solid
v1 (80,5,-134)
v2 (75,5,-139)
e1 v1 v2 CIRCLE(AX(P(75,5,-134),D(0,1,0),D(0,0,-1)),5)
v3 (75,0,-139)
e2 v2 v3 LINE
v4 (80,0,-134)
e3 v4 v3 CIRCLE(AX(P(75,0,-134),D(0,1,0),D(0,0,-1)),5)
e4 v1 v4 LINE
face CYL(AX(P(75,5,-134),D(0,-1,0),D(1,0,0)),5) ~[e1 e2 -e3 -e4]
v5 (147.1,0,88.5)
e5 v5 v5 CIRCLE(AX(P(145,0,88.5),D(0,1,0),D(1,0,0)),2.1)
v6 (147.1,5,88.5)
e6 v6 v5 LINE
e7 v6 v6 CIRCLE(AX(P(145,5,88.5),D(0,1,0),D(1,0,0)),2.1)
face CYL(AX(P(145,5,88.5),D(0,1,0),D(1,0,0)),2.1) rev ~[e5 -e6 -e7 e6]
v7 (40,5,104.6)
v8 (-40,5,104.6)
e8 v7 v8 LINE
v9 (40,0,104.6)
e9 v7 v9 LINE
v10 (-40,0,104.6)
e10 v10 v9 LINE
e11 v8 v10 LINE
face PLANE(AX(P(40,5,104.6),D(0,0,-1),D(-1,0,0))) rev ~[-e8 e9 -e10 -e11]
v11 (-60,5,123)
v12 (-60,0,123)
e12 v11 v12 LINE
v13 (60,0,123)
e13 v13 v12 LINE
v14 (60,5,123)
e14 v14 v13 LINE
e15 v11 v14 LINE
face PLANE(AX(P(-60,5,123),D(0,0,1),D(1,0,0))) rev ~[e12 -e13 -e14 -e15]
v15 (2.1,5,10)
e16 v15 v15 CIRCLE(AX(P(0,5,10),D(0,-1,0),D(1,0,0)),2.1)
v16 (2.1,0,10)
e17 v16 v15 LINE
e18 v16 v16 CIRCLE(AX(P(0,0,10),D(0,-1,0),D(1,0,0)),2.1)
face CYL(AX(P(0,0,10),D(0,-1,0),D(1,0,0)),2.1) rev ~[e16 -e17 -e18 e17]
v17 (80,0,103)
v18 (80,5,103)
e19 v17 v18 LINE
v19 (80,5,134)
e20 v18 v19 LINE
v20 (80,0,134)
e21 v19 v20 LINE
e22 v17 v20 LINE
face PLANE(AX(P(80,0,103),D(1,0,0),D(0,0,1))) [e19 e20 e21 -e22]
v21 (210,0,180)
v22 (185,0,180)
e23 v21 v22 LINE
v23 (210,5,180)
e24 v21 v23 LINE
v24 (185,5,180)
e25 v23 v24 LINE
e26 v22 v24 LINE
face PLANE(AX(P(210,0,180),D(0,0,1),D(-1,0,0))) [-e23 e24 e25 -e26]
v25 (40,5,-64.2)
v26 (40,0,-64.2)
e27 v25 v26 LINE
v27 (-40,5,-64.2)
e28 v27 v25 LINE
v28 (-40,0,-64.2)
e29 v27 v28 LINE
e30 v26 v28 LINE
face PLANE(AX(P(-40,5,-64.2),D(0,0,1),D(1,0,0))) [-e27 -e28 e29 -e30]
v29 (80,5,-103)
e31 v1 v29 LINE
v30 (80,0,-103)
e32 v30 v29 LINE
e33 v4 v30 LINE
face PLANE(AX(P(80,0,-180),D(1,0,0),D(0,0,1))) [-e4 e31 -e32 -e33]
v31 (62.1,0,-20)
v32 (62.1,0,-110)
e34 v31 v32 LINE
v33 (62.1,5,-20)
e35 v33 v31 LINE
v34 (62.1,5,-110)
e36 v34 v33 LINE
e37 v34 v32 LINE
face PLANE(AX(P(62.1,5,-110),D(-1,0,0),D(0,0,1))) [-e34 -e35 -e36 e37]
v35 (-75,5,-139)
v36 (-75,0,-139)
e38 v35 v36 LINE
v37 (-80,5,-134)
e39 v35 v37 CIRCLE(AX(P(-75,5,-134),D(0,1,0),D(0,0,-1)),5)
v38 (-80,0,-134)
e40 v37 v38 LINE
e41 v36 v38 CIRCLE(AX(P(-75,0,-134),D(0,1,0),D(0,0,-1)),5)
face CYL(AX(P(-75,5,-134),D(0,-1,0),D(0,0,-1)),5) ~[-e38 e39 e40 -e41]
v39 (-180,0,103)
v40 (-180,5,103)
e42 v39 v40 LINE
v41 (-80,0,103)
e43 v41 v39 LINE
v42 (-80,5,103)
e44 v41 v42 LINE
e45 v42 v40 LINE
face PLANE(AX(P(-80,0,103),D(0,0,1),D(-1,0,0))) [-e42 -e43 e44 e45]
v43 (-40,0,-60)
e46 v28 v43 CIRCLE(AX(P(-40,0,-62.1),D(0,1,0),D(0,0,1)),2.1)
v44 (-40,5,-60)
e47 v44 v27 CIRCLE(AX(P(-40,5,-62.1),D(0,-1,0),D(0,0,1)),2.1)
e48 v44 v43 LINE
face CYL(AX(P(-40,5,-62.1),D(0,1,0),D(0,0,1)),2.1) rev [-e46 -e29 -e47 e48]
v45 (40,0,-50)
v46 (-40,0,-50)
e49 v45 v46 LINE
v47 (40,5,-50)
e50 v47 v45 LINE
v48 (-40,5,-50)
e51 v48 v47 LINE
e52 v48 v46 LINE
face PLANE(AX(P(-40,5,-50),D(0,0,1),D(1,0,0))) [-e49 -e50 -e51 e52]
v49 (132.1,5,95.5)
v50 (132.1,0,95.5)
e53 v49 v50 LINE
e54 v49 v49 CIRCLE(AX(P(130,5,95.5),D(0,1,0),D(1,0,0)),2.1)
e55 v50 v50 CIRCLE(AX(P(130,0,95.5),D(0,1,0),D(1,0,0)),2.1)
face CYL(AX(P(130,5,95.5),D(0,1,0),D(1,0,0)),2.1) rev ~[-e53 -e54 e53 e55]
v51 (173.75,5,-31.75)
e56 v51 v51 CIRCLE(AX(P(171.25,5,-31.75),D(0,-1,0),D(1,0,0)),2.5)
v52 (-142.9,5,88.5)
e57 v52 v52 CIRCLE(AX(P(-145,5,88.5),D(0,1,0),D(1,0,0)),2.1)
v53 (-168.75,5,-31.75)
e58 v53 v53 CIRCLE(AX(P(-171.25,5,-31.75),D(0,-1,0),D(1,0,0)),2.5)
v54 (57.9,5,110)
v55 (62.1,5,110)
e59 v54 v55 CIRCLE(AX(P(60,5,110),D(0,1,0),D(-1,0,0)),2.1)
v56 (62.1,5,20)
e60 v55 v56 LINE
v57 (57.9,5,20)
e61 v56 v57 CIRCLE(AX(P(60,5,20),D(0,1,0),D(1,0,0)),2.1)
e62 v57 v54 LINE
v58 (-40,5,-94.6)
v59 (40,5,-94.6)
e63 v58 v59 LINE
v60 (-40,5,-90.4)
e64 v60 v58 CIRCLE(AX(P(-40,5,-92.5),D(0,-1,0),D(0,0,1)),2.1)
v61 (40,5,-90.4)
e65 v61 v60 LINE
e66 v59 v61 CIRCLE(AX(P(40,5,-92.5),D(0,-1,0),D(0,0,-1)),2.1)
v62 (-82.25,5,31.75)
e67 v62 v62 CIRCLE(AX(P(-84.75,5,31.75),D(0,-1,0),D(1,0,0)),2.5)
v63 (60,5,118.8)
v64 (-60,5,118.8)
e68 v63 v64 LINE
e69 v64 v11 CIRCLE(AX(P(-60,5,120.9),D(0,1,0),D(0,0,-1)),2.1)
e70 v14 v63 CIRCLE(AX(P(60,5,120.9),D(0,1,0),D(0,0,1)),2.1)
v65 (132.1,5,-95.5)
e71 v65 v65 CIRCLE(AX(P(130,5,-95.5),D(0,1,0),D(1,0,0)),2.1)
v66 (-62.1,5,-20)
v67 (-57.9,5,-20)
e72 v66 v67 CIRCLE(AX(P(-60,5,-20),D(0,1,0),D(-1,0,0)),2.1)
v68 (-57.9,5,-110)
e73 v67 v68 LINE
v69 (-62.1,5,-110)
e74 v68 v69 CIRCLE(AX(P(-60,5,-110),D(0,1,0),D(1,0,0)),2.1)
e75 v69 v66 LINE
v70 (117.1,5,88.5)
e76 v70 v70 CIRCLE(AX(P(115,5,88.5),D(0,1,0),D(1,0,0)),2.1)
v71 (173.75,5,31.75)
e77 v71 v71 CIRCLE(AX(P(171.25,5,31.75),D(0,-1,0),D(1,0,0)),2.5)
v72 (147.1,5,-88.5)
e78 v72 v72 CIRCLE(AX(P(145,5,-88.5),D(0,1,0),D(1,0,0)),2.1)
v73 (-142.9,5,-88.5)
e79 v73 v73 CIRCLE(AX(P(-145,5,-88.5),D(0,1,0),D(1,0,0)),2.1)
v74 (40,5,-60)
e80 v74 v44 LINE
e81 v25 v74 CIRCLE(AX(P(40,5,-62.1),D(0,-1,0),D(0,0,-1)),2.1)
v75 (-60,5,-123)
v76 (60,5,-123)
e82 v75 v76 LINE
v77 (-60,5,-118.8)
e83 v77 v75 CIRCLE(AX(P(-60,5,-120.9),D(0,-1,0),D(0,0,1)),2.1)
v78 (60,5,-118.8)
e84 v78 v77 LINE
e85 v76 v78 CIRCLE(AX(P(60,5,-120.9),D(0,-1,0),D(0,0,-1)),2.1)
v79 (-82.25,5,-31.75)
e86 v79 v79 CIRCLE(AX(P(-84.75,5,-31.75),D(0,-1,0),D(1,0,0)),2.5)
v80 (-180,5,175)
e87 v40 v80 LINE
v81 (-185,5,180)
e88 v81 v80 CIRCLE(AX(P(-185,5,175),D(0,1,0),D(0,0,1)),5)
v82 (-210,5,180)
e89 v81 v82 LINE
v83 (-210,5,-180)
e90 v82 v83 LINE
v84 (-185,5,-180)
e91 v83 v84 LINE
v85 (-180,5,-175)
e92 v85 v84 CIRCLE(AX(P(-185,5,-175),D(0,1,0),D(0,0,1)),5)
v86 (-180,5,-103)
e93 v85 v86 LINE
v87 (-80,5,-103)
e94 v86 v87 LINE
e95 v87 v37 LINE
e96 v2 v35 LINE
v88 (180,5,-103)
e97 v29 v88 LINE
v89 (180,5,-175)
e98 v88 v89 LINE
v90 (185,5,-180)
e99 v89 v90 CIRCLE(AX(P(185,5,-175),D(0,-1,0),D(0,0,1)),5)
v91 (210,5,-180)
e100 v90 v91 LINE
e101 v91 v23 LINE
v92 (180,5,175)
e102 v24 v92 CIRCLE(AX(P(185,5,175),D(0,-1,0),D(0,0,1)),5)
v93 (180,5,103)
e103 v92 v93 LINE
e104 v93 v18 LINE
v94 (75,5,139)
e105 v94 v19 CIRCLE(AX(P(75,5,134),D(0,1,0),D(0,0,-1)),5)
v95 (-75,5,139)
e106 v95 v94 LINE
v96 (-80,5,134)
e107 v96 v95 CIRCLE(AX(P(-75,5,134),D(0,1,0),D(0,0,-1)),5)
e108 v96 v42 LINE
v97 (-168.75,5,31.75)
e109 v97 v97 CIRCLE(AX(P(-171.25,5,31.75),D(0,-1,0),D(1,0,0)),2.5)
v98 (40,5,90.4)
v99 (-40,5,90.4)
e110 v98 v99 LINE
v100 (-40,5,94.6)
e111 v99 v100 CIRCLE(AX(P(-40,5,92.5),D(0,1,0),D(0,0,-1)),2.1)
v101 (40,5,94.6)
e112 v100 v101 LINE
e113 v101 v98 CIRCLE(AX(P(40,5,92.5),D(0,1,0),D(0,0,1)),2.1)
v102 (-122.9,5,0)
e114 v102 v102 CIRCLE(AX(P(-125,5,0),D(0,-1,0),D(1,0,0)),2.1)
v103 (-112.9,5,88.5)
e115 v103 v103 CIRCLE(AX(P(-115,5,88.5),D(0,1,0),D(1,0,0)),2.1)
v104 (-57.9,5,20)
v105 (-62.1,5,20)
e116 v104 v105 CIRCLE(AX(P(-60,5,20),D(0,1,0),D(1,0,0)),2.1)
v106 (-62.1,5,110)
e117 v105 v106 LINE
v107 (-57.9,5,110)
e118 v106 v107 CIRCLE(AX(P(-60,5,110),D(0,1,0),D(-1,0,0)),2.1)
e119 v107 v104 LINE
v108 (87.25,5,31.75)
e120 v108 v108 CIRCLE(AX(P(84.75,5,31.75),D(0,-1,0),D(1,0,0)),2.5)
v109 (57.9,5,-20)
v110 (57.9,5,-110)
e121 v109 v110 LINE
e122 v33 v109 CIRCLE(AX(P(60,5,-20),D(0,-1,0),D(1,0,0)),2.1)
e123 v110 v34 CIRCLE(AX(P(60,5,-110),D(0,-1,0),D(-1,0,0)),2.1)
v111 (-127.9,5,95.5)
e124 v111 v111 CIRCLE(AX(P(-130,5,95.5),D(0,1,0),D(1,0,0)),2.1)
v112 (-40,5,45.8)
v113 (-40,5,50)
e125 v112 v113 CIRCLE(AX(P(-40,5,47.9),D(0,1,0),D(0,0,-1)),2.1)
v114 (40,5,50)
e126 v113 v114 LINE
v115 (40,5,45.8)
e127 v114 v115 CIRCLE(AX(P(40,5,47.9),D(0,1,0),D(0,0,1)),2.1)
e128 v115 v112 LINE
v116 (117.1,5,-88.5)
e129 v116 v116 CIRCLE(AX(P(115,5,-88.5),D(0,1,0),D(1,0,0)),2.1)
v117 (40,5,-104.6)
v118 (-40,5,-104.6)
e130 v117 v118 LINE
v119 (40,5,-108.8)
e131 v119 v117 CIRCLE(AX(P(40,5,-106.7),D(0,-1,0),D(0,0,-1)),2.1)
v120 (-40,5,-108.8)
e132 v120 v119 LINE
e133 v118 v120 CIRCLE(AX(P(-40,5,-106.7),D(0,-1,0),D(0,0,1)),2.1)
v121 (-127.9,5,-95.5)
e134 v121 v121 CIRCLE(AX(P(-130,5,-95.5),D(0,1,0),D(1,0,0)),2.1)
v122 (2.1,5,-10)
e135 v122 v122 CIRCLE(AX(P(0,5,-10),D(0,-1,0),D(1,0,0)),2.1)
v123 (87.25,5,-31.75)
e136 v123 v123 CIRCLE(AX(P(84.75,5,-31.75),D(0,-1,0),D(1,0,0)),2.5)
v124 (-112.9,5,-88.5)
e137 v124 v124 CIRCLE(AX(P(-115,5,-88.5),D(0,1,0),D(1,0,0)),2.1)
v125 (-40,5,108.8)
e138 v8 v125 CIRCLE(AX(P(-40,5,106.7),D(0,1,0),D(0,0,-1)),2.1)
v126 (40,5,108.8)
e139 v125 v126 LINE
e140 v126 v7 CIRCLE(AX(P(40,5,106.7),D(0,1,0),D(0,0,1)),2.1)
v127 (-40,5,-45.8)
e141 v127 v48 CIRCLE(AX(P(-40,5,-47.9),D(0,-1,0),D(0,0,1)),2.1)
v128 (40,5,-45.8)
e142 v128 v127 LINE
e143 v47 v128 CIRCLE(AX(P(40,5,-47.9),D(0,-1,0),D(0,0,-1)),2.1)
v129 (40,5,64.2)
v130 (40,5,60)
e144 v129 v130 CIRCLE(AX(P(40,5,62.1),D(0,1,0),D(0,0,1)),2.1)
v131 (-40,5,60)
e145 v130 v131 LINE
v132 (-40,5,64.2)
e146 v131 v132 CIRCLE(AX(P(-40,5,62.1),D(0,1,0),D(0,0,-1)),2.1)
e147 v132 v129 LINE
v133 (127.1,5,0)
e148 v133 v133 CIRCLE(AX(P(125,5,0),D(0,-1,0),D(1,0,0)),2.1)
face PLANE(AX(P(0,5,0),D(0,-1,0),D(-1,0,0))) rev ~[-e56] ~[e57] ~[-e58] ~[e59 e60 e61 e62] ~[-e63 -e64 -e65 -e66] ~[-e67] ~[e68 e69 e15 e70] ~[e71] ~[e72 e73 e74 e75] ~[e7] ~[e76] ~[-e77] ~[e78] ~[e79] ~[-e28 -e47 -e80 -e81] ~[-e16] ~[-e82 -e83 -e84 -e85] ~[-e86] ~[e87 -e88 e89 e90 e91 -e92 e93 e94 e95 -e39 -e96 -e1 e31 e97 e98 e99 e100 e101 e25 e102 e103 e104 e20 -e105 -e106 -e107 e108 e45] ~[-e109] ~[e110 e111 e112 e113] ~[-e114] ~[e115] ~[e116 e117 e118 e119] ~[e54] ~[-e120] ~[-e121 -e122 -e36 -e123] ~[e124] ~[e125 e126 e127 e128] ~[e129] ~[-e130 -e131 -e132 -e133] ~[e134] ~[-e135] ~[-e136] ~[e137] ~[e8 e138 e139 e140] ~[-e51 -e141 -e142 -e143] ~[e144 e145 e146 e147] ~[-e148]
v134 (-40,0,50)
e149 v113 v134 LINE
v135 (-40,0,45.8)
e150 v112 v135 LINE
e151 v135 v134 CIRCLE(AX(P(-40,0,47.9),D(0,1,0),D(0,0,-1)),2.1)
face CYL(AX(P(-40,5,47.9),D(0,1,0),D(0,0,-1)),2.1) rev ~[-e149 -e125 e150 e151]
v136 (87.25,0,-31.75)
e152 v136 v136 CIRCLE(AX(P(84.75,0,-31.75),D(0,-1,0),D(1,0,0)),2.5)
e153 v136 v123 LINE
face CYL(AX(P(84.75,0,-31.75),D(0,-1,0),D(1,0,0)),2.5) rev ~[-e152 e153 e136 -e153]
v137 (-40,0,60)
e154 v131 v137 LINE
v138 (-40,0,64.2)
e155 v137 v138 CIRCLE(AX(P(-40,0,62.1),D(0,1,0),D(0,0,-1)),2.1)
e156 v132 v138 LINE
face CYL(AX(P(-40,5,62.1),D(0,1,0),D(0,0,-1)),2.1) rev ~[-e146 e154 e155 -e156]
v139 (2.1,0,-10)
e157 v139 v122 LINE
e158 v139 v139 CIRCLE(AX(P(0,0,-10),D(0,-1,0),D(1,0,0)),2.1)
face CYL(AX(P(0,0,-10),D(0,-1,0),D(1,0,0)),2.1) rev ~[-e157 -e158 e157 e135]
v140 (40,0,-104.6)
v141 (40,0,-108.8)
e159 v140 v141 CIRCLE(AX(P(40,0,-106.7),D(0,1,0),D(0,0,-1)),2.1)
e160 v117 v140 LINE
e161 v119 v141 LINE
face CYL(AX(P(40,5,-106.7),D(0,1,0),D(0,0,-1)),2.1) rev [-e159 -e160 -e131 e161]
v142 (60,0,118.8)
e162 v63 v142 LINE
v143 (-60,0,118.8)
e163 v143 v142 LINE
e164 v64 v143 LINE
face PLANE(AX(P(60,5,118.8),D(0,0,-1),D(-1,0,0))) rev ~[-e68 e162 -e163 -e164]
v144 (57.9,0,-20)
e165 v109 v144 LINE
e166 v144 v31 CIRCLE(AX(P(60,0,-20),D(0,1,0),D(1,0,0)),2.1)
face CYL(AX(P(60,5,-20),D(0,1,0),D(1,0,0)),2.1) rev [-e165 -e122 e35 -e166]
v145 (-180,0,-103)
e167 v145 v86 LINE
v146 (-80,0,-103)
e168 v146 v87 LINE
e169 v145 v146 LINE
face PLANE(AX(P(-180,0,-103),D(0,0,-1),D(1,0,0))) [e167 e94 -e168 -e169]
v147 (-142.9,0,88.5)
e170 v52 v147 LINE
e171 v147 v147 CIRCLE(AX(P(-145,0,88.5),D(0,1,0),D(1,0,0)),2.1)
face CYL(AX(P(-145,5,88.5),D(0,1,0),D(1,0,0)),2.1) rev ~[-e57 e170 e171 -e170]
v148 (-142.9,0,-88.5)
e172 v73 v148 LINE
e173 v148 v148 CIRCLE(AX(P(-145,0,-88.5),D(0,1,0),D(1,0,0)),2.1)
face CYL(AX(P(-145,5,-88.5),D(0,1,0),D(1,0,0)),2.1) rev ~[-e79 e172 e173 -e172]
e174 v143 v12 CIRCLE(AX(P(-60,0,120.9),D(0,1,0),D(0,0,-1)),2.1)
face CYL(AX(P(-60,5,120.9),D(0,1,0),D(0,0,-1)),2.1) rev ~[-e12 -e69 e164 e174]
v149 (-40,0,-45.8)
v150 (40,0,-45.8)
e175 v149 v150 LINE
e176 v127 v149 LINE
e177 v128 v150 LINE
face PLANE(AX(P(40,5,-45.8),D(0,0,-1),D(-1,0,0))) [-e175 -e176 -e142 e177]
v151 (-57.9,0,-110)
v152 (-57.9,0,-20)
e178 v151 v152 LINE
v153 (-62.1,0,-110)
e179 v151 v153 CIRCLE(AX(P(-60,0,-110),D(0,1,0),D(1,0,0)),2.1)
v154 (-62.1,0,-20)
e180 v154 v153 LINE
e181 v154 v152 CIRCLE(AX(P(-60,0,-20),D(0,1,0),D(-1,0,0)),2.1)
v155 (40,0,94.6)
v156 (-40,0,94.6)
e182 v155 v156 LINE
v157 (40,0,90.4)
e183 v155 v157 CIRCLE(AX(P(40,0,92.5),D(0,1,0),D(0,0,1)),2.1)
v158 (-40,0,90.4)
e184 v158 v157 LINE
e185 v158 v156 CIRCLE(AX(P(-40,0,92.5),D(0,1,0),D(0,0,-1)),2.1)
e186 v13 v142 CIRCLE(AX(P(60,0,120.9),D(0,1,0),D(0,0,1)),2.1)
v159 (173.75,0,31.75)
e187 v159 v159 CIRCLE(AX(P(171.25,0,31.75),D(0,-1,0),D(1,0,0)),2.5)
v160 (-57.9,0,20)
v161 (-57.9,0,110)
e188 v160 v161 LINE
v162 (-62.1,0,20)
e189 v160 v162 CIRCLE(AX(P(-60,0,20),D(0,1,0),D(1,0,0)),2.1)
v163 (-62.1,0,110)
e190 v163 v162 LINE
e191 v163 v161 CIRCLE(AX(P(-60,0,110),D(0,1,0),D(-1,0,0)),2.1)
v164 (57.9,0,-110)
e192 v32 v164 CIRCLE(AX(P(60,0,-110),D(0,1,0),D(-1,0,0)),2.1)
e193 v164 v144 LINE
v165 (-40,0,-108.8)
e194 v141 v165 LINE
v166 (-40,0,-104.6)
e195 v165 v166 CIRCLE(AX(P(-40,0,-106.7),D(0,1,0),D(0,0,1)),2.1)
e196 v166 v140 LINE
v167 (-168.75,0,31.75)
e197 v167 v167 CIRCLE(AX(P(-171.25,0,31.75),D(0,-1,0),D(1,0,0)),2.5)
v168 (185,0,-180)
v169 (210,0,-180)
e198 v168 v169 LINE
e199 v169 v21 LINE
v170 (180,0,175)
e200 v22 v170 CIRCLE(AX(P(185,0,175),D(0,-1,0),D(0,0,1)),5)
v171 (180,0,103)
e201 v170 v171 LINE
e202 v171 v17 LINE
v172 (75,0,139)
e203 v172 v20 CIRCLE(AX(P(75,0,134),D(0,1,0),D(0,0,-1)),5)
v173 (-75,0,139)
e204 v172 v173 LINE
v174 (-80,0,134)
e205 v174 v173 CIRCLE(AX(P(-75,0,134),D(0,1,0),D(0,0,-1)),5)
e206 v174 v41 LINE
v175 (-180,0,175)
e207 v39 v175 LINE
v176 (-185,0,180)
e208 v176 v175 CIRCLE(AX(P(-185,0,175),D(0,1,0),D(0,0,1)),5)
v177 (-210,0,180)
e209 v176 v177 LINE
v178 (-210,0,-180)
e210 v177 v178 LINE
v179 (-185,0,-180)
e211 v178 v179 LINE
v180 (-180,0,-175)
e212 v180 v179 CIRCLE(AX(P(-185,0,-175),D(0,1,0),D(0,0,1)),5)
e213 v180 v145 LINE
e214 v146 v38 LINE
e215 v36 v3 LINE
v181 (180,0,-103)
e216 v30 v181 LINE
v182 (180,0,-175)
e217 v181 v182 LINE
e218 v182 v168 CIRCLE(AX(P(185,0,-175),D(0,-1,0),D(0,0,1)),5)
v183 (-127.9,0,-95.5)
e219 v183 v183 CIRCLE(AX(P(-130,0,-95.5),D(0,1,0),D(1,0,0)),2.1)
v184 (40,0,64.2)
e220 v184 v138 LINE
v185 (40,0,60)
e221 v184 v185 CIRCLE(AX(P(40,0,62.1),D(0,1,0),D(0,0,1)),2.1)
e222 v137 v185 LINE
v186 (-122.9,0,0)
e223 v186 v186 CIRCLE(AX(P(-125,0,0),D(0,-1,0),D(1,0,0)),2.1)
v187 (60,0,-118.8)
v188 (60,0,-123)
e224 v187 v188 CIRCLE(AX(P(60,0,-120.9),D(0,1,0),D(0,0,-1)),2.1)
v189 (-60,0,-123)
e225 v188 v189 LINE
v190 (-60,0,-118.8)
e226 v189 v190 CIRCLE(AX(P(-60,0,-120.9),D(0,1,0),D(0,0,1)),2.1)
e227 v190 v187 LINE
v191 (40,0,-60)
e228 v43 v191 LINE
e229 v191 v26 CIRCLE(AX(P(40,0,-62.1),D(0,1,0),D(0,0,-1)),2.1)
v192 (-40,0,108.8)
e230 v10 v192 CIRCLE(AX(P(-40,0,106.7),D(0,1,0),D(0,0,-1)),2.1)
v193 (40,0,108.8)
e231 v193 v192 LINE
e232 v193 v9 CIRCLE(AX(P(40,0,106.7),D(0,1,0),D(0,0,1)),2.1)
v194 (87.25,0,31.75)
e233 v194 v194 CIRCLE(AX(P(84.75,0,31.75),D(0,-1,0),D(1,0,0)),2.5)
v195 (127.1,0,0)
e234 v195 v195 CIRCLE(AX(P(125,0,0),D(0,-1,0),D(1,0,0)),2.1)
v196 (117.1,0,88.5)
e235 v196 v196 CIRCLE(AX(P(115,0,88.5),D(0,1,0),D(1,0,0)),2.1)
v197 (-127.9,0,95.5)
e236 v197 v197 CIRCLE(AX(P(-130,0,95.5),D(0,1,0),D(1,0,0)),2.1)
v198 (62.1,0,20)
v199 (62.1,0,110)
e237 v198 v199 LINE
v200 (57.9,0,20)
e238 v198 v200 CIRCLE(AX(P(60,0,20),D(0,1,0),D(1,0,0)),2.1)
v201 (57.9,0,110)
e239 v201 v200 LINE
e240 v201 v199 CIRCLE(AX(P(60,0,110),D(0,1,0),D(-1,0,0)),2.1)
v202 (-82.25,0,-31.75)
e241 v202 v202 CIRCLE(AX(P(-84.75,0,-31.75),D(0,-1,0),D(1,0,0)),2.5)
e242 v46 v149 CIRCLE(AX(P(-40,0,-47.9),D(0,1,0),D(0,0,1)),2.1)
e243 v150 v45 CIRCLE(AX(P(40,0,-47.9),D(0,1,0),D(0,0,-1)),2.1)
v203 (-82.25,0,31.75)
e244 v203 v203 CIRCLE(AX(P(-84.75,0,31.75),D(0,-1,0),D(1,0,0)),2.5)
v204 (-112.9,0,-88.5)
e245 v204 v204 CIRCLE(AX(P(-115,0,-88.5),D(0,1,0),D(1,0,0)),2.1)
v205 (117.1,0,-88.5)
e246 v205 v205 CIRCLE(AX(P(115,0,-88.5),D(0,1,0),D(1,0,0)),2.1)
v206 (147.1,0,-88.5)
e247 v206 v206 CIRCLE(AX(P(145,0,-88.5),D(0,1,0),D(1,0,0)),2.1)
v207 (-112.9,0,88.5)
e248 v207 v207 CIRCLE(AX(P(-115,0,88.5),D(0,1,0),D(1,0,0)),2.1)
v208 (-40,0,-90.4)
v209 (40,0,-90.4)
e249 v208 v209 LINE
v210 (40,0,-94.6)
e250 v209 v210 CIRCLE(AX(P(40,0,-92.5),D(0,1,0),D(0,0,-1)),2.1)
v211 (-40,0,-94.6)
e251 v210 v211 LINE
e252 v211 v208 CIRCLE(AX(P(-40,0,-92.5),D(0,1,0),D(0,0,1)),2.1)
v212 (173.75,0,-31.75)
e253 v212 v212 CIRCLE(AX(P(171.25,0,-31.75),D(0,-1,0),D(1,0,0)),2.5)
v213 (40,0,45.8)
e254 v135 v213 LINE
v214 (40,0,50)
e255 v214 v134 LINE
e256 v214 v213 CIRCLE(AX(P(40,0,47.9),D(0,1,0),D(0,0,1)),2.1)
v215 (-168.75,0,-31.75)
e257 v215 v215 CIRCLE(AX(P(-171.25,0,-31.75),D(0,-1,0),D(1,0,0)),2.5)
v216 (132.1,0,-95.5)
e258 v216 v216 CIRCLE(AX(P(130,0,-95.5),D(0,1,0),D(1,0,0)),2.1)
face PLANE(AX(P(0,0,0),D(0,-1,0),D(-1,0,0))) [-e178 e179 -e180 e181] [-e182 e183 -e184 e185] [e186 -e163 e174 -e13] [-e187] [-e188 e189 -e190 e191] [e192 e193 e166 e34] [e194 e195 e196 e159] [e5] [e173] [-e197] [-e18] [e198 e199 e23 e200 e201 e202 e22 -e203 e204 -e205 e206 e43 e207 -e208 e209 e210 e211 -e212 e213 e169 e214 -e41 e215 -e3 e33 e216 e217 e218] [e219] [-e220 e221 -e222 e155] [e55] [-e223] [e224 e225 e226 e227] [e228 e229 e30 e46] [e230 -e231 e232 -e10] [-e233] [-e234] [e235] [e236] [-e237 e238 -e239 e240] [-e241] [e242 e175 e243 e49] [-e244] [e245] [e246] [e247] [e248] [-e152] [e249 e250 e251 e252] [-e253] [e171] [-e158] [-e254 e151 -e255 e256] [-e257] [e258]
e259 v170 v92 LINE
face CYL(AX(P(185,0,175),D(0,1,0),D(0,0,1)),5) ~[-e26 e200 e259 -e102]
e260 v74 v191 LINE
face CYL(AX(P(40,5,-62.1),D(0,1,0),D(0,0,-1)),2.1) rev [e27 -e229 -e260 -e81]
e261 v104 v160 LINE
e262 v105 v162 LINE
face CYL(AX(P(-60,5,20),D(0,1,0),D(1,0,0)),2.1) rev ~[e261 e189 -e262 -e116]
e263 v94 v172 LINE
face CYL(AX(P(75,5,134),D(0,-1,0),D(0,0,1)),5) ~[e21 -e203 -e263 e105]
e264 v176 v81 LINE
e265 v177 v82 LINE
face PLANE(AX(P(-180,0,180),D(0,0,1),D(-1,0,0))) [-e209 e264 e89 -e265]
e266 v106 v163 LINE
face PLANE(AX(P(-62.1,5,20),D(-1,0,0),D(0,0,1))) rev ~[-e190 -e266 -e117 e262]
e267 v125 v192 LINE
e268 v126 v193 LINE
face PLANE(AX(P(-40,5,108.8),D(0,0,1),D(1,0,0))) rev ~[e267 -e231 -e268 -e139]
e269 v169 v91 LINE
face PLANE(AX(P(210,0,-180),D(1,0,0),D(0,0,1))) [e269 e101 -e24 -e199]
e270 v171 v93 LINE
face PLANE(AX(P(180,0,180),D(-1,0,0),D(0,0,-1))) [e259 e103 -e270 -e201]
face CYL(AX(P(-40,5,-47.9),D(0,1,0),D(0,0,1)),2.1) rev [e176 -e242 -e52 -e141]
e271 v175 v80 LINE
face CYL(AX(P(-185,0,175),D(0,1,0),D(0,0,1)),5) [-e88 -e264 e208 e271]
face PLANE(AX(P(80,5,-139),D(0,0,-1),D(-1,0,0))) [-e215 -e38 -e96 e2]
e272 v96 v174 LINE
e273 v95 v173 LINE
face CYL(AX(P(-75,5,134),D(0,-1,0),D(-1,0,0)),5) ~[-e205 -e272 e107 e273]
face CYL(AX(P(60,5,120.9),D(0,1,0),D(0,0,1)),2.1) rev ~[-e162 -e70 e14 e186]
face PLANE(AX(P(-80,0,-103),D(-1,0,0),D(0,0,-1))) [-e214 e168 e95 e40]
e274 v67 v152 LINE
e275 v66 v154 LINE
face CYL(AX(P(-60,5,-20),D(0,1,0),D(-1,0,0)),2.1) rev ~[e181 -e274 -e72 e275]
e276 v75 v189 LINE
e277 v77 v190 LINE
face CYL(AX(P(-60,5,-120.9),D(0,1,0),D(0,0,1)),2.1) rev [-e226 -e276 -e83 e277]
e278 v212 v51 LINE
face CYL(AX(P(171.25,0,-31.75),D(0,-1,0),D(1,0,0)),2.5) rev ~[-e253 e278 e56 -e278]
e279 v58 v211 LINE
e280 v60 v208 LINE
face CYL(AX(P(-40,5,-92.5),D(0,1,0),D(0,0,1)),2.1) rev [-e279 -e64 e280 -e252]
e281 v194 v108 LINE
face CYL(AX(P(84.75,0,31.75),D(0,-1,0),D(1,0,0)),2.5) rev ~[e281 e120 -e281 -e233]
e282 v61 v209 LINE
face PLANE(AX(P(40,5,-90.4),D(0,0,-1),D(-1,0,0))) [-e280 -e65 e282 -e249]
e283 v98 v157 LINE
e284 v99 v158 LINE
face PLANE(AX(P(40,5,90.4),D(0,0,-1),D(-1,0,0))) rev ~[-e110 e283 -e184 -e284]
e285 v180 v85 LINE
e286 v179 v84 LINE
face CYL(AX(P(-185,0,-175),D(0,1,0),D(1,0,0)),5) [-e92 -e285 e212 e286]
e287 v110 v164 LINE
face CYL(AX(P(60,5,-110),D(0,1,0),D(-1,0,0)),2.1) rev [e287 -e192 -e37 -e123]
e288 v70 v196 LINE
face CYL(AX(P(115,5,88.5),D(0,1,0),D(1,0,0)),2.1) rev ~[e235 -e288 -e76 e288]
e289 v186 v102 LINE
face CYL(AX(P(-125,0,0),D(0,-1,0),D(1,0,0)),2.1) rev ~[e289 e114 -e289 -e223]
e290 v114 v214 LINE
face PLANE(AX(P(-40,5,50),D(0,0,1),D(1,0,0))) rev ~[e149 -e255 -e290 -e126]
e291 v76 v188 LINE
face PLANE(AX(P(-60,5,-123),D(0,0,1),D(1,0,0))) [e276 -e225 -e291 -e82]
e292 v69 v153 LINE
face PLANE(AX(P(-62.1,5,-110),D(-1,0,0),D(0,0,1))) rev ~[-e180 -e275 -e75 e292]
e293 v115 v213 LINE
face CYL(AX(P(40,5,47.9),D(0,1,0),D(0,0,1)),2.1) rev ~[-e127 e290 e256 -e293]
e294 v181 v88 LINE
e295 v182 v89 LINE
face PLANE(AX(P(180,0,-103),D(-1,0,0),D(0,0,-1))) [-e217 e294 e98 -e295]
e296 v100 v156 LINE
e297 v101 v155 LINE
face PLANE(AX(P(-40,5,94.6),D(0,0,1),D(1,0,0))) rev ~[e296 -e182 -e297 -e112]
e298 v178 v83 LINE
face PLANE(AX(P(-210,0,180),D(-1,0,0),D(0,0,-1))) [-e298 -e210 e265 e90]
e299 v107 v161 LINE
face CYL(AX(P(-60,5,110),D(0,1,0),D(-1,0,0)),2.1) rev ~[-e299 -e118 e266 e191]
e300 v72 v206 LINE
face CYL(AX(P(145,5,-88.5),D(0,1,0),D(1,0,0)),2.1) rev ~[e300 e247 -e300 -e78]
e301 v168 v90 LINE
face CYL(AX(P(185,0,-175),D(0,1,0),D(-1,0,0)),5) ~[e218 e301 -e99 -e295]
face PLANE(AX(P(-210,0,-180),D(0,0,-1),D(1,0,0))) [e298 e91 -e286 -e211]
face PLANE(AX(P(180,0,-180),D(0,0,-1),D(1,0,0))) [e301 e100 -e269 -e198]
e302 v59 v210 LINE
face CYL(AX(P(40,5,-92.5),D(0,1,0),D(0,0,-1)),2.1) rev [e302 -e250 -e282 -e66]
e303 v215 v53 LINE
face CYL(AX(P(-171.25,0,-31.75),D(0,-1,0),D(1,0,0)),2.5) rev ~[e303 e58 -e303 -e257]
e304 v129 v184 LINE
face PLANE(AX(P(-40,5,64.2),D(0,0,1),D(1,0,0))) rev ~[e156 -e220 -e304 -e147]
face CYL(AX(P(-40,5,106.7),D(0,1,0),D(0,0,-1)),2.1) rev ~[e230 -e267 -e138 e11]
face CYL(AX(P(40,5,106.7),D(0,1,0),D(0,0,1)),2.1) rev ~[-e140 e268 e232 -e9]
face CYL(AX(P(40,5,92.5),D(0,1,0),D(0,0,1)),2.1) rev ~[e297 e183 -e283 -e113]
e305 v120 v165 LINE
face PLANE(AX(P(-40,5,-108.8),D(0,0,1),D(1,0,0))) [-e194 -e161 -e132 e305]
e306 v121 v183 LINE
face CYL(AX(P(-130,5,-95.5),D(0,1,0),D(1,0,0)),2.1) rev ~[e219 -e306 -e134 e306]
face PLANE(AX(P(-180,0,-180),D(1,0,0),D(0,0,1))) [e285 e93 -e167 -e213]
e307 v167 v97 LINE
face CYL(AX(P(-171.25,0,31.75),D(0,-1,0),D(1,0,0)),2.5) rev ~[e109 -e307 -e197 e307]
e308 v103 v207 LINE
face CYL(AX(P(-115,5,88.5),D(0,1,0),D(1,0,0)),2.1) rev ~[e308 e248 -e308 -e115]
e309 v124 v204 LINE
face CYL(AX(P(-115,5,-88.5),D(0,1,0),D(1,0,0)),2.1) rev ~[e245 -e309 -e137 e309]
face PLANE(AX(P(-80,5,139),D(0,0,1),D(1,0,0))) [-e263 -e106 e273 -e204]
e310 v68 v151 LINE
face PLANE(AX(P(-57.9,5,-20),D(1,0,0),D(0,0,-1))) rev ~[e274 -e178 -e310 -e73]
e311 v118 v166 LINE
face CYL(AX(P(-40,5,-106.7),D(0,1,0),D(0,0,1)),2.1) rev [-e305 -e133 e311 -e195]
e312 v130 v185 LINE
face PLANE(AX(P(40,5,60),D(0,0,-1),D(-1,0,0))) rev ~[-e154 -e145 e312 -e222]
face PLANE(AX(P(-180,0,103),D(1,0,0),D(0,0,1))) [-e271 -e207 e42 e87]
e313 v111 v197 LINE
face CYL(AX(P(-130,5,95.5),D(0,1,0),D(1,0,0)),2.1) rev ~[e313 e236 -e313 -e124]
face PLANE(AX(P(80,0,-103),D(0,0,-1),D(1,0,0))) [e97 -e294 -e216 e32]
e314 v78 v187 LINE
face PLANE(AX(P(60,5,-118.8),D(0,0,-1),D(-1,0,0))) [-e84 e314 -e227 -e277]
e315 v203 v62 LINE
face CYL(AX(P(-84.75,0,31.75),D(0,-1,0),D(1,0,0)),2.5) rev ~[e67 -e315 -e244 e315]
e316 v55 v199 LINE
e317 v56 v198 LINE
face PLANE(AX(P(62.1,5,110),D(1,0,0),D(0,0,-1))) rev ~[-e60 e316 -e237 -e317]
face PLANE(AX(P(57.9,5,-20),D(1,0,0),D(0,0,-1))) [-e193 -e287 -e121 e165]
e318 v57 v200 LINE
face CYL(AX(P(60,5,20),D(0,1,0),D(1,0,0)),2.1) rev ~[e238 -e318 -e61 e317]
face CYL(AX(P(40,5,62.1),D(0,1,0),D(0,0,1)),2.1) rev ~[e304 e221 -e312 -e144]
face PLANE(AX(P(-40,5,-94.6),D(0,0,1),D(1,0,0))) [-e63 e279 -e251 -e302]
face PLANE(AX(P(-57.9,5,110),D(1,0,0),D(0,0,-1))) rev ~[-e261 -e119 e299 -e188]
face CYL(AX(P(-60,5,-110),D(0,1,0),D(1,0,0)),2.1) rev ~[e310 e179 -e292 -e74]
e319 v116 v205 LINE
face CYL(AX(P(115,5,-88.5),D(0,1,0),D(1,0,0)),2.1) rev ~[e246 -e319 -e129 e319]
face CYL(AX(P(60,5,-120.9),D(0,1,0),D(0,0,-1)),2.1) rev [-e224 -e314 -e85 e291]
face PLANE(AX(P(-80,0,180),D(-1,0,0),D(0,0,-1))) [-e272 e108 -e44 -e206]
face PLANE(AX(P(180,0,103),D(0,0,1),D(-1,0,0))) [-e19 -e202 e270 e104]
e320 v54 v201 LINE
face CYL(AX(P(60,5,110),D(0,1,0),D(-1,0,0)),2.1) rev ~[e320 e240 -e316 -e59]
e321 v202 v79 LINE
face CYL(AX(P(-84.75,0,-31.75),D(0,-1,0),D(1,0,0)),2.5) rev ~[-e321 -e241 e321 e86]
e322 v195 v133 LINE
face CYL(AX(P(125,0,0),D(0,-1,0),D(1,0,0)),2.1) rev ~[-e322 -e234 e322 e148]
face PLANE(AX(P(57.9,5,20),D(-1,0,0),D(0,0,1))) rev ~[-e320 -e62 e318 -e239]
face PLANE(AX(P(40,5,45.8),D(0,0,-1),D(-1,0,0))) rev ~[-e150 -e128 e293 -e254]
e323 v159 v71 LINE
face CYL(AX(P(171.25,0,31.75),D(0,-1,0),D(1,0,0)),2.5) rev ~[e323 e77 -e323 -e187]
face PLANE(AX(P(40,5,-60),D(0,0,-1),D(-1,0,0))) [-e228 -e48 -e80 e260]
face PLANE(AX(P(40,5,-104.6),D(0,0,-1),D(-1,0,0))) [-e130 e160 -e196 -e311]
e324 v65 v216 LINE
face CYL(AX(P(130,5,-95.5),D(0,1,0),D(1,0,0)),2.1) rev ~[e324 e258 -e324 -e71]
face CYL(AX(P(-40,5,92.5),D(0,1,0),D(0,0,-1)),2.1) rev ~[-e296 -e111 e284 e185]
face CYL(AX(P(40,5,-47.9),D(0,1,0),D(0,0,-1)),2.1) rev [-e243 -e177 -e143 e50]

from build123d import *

# Parameters (mm, degrees)
EXTRUDE_1_DEPTH     = 5
SKETCH_2_R          = 2.1
CUT_EXTRUDE_1_DEPTH = 6
FILLET_1_R          = 5
SKETCH_3_R          = 2.5
CUT_EXTRUDE_2_DEPTH = 6
SKETCH_4_R          = 2.1
CUT_EXTRUDE_3_DEPTH = 6
SKETCH_5_W          = 160
SKETCH_5_H          = 66.889435481
CUT_EXTRUDE_4_DEPTH = 6
FILLET_2_R          = 5
CUT_EXTRUDE_5_DEPTH = 6


with BuildPart() as part:
    # 草图1 → 凸台-拉伸1 (new body)
    with BuildSketch(Plane(origin=(0, 0, 0), x_dir=(1, 0, 0), z_dir=(0, 1, 0))):
        Polygon((-180, 180), (-180, 103), (-80, 103), (-80, 180), (80, 180), (80, 103), (180, 103), (180, 180), (210, 180), (210, -180), (180, -180), (180, -103), (80, -103), (80, -180), (-80, -180), (-80, -103), (-180, -103), (-180, -180), (-210, -180), (-210, 180), align=None)
    extrude(amount=EXTRUDE_1_DEPTH)

    # 草图2 → 切除-拉伸1 (cut, through all)
    with BuildSketch(Plane(origin=(0, 5, 0), x_dir=(1, 0, 0), z_dir=(0, 1, 0))):
        with Locations((115, -88.5)):
            Circle(SKETCH_2_R)
        with Locations((145, -88.5)):
            Circle(SKETCH_2_R)
        with Locations((130, -95.5)):
            Circle(SKETCH_2_R)
        with Locations((130, 95.5)):
            Circle(SKETCH_2_R)
        with Locations((145, 88.5)):
            Circle(SKETCH_2_R)
        with Locations((115, 88.5)):
            Circle(SKETCH_2_R)
        with Locations((-115, 88.5)):
            Circle(SKETCH_2_R)
        with Locations((-145, 88.5)):
            Circle(SKETCH_2_R)
        with Locations((-130, 95.5)):
            Circle(SKETCH_2_R)
        with Locations((-130, -95.5)):
            Circle(SKETCH_2_R)
        with Locations((-145, -88.5)):
            Circle(SKETCH_2_R)
        with Locations((-115, -88.5)):
            Circle(SKETCH_2_R)
    extrude(amount=-CUT_EXTRUDE_1_DEPTH, mode=Mode.SUBTRACT)

    # 圆角1
    fillet_1_edges = [part.edges().sort_by_distance(p)[0] for p in [
        (180, 2.5, 180),
        (80, 2.5, 180),
        (-80, 2.5, 180),
        (-180, 2.5, 180),
        (-180, 2.5, -180),
        (-80, 2.5, -180),
        (80, 2.5, -180),
        (180, 2.5, -180),
    ]]
    fillet(fillet_1_edges, radius=FILLET_1_R)

    # 草图3 → 切除-拉伸2 (cut, through all)
    with BuildSketch(Plane.XZ):
        with Locations((84.75, 31.75)):
            Circle(SKETCH_3_R)
        with Locations((84.75, -31.75)):
            Circle(SKETCH_3_R)
        with Locations((171.25, 31.75)):
            Circle(SKETCH_3_R)
        with Locations((171.25, -31.75)):
            Circle(SKETCH_3_R)
        with Locations((-171.25, -31.75)):
            Circle(SKETCH_3_R)
        with Locations((-171.25, 31.75)):
            Circle(SKETCH_3_R)
        with Locations((-84.75, -31.75)):
            Circle(SKETCH_3_R)
        with Locations((-84.75, 31.75)):
            Circle(SKETCH_3_R)
    extrude(amount=-CUT_EXTRUDE_2_DEPTH, mode=Mode.SUBTRACT)

    # 草图4 → 切除-拉伸3 (cut, through all)
    with BuildSketch(Plane.XZ):
        with Locations((-125, 0)):
            Circle(SKETCH_4_R)
        with Locations((125, 0)):
            Circle(SKETCH_4_R)
        with Locations((0, 10)):
            Circle(SKETCH_4_R)
        with Locations((0, -10)):
            Circle(SKETCH_4_R)
    extrude(amount=-CUT_EXTRUDE_3_DEPTH, mode=Mode.SUBTRACT)

    # 草图5 → 切除-拉伸4 (cut, through all)
    with BuildSketch(Plane(origin=(0, 5, 0), x_dir=(1, 0, 0), z_dir=(0, 1, 0))):
        with Locations((0, -172.444717741)):
            Rectangle(SKETCH_5_W, SKETCH_5_H)
        Polygon((80, 139), (-80, 139), (-80, 214.558464343), (80, 221.06023599), align=None)
    extrude(amount=-CUT_EXTRUDE_4_DEPTH, mode=Mode.SUBTRACT)

    # 圆角2
    fillet_2_edges = [part.edges().sort_by_distance(p)[0] for p in [
        (-80, 2.5, 139),
        (80, 2.5, 139),
        (80, 2.5, -139),
        (-80, 2.5, -139),
    ]]
    fillet(fillet_2_edges, radius=FILLET_2_R)

    # 草图6 → 切除-拉伸5 (cut, through all)
    with BuildSketch(Plane(origin=(0, 5, 0), x_dir=(1, 0, 0), z_dir=(0, 1, 0))):
        with BuildLine():
            Line((-60, 123), (60, 123))
            ThreePointArc((60, 123), (62.1, 120.9), (60, 118.8))
            Line((60, 118.8), (-60, 118.8))
            ThreePointArc((-60, 118.8), (-62.1, 120.9), (-60, 123))
        make_face()
        with BuildLine():
            Line((-40, 108.8), (40, 108.8))
            ThreePointArc((40, 108.8), (42.1, 106.7), (40, 104.6))
            Line((40, 104.6), (-40, 104.6))
            ThreePointArc((-40, 104.6), (-42.1, 106.7), (-40, 108.8))
        make_face()
        with BuildLine():
            Line((-62.1, 110), (-62.1, 20))
            ThreePointArc((-62.1, 20), (-60, 17.9), (-57.9, 20))
            Line((-57.9, 20), (-57.9, 110))
            ThreePointArc((-57.9, 110), (-60, 112.1), (-62.1, 110))
        make_face()
        with BuildLine():
            Line((-40, 94.6), (40, 94.6))
            ThreePointArc((40, 94.6), (42.1, 92.5), (40, 90.4))
            Line((40, 90.4), (-40, 90.4))
            ThreePointArc((-40, 90.4), (-42.1, 92.5), (-40, 94.6))
        make_face()
        with BuildLine():
            Line((62.1, 110), (62.1, 20))
            ThreePointArc((62.1, 20), (60, 17.9), (57.9, 20))
            Line((57.9, 20), (57.9, 110))
            ThreePointArc((57.9, 110), (60, 112.1), (62.1, 110))
        make_face()
        with BuildLine():
            Line((-40, 64.2), (40, 64.2))
            ThreePointArc((40, 64.2), (42.1, 62.1), (40, 60))
            Line((40, 60), (-40, 60))
            ThreePointArc((-40, 60), (-42.1, 62.1), (-40, 64.2))
        make_face()
        with BuildLine():
            Line((-40, 50), (40, 50))
            ThreePointArc((40, 50), (42.1, 47.9), (40, 45.8))
            Line((40, 45.8), (-40, 45.8))
            ThreePointArc((-40, 45.8), (-42.1, 47.9), (-40, 50))
        make_face()
        with BuildLine():
            Line((40, -60), (-40, -60))
            ThreePointArc((-40, -60), (-42.1, -62.1), (-40, -64.2))
            Line((-40, -64.2), (40, -64.2))
            ThreePointArc((40, -64.2), (42.1, -62.1), (40, -60))
        make_face()
        with BuildLine():
            Line((40, -45.8), (-40, -45.8))
            ThreePointArc((-40, -45.8), (-42.1, -47.9), (-40, -50))
            Line((-40, -50), (40, -50))
            ThreePointArc((40, -50), (42.1, -47.9), (40, -45.8))
        make_face()
        with BuildLine():
            Line((-57.9, -110), (-57.9, -20))
            ThreePointArc((-57.9, -20), (-60, -17.9), (-62.1, -20))
            Line((-62.1, -20), (-62.1, -110))
            ThreePointArc((-62.1, -110), (-60, -112.1), (-57.9, -110))
        make_face()
        with BuildLine():
            Line((57.9, -20), (57.9, -110))
            ThreePointArc((57.9, -110), (60, -112.1), (62.1, -110))
            Line((62.1, -110), (62.1, -20))
            ThreePointArc((62.1, -20), (60, -17.9), (57.9, -20))
        make_face()
        with BuildLine():
            Line((40, -90.4), (-40, -90.4))
            ThreePointArc((-40, -90.4), (-42.1, -92.5), (-40, -94.6))
            Line((-40, -94.6), (40, -94.6))
            ThreePointArc((40, -94.6), (42.1, -92.5), (40, -90.4))
        make_face()
        with BuildLine():
            Line((40, -104.6), (-40, -104.6))
            ThreePointArc((-40, -104.6), (-42.1, -106.7), (-40, -108.8))
            Line((-40, -108.8), (40, -108.8))
            ThreePointArc((40, -108.8), (42.1, -106.7), (40, -104.6))
        make_face()
        with BuildLine():
            Line((60, -118.8), (-60, -118.8))
            ThreePointArc((-60, -118.8), (-62.1, -120.9), (-60, -123))
            Line((-60, -123), (60, -123))
            ThreePointArc((60, -123), (62.1, -120.9), (60, -118.8))
        make_face()
    extrude(amount=-CUT_EXTRUDE_5_DEPTH, mode=Mode.SUBTRACT)


solid = part.part
